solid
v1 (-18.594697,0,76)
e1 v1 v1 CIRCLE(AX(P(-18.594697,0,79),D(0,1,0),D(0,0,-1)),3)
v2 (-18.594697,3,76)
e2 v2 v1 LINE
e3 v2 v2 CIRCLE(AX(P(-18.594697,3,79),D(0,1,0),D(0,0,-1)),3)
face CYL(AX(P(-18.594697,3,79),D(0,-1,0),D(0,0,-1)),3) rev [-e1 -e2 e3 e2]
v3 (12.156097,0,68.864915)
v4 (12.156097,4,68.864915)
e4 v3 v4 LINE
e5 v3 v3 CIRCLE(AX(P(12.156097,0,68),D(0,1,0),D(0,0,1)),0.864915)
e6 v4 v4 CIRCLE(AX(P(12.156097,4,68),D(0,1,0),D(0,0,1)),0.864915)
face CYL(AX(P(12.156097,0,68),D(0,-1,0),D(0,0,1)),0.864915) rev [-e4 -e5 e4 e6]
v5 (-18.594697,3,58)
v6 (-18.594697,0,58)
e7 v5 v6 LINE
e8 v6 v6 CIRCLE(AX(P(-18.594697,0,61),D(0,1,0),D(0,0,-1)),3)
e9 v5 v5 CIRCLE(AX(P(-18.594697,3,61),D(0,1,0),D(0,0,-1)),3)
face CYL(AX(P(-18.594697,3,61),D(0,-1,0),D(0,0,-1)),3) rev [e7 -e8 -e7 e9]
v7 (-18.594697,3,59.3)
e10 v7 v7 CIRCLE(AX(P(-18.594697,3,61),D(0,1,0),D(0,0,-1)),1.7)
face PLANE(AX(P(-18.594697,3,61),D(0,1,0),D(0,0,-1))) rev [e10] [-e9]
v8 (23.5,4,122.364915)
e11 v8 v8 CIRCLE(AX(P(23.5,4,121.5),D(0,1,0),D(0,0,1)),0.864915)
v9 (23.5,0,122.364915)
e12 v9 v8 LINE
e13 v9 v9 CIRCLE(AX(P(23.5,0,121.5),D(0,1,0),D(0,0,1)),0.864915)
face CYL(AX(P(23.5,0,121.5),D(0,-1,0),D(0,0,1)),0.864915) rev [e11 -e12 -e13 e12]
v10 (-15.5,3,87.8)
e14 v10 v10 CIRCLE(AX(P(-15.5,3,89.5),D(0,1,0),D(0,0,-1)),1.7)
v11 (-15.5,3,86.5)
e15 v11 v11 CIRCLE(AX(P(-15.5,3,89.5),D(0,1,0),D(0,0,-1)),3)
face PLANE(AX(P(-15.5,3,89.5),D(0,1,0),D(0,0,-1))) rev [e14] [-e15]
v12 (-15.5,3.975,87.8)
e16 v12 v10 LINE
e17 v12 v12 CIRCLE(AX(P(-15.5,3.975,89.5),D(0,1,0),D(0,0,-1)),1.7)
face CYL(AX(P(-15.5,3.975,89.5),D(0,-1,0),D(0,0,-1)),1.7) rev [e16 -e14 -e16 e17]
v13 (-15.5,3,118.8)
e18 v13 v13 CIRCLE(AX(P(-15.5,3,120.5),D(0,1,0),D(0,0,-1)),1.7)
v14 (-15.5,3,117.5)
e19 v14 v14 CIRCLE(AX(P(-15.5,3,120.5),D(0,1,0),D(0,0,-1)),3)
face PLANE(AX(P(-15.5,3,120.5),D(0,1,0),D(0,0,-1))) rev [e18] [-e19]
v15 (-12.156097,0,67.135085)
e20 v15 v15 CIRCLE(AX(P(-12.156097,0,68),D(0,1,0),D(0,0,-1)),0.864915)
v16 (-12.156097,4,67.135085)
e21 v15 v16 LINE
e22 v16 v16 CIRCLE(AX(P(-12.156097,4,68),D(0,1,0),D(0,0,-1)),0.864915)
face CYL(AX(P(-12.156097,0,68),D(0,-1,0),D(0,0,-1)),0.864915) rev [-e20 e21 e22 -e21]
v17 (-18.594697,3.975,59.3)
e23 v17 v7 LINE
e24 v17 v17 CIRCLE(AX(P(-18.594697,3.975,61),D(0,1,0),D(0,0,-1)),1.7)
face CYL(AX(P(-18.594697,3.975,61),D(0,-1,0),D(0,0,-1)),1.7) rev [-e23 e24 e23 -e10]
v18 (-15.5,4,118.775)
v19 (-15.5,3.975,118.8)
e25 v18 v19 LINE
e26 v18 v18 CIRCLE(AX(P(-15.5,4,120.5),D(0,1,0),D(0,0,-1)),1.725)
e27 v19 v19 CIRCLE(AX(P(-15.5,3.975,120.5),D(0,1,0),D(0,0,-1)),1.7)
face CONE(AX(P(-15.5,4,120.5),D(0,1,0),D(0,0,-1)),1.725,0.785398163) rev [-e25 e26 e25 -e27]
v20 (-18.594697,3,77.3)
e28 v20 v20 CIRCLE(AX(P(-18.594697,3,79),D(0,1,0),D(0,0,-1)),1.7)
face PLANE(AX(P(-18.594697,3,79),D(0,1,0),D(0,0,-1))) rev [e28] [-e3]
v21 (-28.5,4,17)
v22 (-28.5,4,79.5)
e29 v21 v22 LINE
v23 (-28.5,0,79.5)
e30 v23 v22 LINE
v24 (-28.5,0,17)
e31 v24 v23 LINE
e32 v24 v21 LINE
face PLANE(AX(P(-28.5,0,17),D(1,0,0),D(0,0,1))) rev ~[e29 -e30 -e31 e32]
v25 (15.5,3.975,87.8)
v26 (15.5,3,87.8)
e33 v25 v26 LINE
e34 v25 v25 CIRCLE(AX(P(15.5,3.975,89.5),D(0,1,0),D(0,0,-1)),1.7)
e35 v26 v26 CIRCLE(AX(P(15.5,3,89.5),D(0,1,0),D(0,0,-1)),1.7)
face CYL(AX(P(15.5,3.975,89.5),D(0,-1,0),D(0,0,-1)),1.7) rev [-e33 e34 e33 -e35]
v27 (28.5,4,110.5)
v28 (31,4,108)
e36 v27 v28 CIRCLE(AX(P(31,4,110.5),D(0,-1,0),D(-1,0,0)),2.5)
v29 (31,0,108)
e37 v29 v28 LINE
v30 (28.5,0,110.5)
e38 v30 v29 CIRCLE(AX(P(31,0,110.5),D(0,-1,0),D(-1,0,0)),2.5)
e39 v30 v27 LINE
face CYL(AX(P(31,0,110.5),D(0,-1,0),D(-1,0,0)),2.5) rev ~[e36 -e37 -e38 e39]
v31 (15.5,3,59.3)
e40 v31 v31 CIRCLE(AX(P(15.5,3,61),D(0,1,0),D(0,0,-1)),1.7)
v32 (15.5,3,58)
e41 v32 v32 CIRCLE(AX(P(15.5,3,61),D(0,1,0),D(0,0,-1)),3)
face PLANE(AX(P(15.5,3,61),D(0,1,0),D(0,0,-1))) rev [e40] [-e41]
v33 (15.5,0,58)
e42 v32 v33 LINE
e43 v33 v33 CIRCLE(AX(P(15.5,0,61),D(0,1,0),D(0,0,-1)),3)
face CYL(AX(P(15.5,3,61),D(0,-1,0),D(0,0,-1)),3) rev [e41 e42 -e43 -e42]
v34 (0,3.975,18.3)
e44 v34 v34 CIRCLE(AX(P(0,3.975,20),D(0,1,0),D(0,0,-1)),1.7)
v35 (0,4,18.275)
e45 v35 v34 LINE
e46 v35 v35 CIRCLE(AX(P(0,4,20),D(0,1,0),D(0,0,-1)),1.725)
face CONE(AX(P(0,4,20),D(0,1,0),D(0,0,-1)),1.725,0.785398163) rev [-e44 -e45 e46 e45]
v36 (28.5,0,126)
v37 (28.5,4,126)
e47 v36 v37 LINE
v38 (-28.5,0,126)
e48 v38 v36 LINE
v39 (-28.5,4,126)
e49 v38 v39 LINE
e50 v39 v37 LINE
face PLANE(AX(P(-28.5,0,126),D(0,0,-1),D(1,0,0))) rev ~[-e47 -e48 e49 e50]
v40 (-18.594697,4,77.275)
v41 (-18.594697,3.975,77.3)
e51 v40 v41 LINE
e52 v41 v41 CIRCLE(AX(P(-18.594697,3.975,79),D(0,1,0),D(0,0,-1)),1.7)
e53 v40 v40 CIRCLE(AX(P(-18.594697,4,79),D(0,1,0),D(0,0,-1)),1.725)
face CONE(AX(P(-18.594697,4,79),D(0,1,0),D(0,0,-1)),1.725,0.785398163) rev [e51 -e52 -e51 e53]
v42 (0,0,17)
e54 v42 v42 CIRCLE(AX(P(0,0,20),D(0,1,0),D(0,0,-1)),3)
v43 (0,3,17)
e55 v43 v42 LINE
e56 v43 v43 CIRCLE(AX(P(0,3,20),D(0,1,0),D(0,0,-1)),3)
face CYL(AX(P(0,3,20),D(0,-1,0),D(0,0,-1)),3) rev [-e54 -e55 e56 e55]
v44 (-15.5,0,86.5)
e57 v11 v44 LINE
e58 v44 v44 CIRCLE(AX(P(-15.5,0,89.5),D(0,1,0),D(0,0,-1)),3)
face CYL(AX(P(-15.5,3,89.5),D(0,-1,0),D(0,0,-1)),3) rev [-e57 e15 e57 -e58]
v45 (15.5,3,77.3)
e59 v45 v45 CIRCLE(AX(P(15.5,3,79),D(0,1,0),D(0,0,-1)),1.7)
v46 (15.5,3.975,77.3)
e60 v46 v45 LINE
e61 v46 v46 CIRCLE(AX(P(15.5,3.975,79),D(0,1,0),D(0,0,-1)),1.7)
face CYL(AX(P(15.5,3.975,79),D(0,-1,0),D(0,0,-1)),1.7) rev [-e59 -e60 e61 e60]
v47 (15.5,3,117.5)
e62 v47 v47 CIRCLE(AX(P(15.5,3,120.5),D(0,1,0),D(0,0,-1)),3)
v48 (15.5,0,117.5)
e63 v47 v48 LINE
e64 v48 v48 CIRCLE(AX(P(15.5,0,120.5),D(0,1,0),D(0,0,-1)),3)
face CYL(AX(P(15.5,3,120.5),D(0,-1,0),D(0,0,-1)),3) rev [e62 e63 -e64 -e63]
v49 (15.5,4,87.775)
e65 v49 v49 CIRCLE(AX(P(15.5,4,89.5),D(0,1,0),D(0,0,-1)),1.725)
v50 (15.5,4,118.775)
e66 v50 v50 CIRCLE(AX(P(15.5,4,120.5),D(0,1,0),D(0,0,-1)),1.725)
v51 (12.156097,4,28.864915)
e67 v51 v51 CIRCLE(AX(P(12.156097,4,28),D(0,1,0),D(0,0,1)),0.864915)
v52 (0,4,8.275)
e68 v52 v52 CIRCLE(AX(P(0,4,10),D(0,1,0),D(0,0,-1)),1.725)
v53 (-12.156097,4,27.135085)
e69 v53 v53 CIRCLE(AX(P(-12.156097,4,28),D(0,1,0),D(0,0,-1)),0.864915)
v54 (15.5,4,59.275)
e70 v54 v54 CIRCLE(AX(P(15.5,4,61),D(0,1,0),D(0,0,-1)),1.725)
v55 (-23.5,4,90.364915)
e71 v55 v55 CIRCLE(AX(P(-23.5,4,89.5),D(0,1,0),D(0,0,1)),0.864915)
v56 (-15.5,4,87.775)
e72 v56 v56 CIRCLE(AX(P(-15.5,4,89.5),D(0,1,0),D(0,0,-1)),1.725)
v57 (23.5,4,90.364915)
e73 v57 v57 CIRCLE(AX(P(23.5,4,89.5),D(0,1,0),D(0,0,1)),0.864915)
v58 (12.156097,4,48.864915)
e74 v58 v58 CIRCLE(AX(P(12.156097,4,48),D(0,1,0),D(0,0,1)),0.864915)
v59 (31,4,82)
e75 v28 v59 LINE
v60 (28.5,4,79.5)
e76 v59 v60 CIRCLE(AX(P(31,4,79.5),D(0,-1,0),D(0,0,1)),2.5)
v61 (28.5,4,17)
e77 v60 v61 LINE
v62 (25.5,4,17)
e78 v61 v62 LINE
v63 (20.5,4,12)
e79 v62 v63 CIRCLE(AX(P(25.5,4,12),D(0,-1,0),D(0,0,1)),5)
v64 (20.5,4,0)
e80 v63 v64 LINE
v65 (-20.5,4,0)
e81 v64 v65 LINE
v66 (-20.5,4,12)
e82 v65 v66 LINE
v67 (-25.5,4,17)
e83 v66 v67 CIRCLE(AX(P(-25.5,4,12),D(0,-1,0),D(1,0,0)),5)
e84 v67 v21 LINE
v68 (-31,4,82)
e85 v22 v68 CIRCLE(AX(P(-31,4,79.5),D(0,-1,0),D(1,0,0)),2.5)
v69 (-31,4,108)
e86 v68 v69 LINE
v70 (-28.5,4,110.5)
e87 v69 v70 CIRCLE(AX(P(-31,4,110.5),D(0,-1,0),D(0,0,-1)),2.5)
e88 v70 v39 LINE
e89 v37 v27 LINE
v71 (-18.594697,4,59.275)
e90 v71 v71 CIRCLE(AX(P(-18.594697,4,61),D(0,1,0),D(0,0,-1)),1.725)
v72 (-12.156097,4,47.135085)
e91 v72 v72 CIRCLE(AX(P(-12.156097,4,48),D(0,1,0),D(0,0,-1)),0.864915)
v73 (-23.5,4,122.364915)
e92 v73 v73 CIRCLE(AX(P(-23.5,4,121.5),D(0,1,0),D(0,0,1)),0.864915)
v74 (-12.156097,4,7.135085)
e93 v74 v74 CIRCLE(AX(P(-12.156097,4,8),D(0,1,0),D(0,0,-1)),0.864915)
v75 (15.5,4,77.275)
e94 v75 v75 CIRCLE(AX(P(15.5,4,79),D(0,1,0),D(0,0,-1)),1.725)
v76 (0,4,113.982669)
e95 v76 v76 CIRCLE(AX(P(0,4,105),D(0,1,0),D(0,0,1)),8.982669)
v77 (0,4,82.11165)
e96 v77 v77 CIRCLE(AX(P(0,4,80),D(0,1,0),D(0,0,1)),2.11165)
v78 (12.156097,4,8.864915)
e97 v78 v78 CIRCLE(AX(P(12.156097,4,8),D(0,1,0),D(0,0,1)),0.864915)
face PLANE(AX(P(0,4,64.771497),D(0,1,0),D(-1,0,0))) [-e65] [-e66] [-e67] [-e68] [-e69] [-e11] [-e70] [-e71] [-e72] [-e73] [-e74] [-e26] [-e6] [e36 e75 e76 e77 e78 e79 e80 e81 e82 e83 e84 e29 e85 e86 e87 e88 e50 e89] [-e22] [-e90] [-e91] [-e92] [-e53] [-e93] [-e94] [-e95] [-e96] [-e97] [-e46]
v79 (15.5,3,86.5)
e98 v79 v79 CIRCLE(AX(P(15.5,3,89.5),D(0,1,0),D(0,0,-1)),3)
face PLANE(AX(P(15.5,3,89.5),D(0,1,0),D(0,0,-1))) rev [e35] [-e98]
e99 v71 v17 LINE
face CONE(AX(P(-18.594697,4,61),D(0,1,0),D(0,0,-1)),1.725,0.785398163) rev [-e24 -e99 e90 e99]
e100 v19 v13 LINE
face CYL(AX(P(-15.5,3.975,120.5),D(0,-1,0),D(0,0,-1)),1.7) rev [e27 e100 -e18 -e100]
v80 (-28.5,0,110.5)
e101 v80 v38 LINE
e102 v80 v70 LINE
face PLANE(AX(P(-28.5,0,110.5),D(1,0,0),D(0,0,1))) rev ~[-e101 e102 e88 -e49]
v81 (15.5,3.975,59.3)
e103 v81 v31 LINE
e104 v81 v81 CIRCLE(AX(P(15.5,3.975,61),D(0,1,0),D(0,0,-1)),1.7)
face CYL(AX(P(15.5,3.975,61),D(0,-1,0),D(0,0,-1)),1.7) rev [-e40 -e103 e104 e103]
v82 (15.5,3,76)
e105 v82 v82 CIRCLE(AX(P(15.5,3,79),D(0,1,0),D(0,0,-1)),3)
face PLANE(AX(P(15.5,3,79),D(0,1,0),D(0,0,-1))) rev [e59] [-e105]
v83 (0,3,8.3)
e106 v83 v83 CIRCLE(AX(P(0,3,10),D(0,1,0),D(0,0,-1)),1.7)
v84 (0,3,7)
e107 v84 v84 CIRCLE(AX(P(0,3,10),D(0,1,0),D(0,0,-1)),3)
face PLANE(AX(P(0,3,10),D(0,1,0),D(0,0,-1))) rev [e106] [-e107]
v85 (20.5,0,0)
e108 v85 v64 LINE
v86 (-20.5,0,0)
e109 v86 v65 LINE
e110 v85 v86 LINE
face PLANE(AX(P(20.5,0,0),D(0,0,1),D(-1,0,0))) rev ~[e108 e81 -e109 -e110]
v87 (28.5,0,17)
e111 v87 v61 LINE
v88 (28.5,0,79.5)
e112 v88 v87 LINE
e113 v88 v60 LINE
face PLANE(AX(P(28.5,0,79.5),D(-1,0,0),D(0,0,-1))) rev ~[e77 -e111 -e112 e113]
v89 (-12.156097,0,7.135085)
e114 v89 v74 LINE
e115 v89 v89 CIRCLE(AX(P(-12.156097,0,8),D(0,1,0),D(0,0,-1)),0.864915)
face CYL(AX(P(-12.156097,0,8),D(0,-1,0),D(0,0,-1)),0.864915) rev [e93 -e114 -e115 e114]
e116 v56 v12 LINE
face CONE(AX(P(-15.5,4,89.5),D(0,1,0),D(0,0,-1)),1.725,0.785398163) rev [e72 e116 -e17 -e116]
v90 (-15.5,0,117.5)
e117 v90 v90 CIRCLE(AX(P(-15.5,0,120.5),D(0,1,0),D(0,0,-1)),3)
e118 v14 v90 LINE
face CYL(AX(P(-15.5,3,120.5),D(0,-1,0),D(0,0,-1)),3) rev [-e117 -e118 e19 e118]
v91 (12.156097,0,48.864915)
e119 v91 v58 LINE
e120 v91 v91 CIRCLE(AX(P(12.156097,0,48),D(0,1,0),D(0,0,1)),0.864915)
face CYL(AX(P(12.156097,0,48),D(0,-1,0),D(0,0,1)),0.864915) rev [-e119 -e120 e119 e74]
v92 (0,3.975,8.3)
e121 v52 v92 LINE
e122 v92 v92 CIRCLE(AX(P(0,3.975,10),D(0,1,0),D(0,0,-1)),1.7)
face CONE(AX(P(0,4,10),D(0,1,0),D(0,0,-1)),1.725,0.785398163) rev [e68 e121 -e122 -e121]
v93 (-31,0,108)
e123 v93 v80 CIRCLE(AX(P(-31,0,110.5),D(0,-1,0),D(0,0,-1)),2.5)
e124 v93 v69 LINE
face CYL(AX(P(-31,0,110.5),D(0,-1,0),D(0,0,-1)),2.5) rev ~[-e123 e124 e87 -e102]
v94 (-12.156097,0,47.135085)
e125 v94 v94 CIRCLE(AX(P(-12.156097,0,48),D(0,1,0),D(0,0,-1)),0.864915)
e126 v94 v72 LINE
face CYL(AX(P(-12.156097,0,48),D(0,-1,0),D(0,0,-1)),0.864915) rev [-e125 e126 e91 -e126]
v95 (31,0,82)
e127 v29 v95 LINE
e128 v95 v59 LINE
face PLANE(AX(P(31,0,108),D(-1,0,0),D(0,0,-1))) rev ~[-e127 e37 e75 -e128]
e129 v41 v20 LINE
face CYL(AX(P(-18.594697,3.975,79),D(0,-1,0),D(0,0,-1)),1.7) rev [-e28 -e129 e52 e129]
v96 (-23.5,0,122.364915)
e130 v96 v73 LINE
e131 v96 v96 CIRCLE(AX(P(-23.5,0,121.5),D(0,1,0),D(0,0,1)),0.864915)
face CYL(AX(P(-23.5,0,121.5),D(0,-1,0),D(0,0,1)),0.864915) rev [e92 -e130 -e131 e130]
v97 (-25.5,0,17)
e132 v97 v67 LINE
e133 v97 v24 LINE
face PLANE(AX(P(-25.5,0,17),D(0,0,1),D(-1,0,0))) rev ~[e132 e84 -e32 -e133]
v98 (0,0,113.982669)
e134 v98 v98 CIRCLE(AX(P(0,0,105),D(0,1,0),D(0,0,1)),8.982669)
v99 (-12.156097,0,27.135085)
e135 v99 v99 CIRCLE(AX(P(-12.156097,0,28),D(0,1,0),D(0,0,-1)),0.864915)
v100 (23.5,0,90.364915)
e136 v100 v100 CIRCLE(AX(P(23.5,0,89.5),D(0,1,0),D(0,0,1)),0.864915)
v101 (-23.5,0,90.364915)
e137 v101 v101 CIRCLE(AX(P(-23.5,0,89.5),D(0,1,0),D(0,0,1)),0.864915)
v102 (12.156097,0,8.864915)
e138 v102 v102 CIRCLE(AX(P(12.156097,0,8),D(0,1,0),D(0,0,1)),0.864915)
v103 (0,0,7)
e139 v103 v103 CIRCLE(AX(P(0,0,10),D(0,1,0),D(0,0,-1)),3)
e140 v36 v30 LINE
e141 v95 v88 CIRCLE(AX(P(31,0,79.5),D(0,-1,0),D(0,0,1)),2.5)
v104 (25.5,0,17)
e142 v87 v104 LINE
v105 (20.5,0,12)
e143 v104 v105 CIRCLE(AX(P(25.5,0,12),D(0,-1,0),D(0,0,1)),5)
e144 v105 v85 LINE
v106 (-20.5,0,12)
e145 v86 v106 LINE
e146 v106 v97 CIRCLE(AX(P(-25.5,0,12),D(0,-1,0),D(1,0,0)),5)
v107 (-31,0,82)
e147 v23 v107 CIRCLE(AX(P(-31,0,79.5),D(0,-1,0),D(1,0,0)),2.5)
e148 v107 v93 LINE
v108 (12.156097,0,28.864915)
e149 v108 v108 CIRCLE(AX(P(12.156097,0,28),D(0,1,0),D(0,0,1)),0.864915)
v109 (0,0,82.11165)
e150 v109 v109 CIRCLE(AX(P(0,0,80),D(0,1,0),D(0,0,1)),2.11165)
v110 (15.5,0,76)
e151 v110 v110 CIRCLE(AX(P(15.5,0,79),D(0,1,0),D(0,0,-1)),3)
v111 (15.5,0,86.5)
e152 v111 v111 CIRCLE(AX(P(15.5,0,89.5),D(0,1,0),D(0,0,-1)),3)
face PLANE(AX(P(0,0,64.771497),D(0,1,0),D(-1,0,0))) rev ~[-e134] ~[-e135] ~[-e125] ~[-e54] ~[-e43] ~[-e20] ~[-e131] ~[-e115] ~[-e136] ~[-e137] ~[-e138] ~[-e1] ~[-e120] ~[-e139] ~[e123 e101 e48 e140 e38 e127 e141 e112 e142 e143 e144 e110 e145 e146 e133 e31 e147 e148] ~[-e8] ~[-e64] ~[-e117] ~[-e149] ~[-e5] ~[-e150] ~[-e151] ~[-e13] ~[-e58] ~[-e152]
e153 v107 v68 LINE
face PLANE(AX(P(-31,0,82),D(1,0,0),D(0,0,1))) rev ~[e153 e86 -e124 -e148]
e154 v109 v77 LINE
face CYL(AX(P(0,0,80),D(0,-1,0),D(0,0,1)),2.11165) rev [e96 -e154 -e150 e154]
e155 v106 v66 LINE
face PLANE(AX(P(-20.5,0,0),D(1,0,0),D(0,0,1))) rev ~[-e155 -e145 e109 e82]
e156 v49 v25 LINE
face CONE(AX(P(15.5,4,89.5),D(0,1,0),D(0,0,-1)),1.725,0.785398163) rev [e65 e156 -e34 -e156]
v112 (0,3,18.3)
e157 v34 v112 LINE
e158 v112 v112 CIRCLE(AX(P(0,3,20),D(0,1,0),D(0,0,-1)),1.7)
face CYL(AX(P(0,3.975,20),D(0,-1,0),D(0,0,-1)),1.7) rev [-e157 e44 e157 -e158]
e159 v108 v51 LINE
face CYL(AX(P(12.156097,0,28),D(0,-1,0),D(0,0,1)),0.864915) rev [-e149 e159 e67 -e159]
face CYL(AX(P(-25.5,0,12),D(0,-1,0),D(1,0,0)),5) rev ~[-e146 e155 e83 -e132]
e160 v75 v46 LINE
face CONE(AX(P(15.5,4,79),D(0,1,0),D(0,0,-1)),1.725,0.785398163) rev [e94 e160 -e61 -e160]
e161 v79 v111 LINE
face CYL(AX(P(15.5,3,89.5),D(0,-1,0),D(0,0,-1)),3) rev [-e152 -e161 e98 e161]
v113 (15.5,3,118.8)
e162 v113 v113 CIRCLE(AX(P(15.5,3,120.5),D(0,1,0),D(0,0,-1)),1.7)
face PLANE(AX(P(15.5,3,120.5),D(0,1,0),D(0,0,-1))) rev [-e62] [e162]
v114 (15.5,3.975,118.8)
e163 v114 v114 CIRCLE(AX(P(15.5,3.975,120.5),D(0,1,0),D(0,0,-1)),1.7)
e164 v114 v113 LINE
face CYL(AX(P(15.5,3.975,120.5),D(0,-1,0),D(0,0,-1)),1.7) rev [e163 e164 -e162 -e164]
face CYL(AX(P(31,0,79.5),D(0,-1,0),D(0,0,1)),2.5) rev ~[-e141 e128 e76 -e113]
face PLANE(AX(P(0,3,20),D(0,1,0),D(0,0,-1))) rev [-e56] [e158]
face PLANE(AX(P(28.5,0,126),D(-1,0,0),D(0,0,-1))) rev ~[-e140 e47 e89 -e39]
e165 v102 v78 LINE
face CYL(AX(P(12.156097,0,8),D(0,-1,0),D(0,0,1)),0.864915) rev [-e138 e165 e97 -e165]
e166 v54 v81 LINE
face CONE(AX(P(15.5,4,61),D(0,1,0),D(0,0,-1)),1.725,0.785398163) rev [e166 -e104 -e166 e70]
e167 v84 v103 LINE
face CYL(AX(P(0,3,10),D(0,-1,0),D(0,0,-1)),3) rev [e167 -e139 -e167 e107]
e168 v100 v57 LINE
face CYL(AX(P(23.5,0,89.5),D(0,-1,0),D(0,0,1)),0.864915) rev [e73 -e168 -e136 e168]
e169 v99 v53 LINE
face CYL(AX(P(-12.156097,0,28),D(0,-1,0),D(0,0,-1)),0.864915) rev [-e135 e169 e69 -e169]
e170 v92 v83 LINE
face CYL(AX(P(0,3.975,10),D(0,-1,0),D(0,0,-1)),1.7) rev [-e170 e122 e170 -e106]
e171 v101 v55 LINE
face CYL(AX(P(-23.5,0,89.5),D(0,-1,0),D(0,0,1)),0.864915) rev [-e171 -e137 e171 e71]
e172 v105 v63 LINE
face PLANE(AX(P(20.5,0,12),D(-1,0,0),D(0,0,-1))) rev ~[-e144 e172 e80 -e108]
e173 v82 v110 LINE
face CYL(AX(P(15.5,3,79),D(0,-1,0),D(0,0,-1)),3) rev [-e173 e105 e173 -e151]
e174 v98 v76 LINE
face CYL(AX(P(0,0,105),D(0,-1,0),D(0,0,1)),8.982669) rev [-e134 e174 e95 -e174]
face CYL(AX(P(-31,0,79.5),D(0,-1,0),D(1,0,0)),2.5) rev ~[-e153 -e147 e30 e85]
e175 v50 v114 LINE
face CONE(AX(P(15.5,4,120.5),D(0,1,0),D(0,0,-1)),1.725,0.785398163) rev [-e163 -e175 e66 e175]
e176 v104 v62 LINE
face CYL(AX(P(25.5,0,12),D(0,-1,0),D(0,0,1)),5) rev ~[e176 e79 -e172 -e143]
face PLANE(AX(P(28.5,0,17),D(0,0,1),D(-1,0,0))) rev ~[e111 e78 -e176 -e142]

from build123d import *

# Parameters (mm, degrees)
PLATE_MAIN_SKETCH_R            = 0.86491532
PLATE_MAIN_SKETCH_R_2          = 8.982669203
PLATE_MAIN_SKETCH_R_3          = 2.111650326
EXTRUDE_PLATE_MAIN_DEPTH       = 4
CBORE_FOR_M3_SHCS1_AT_2_COUNT  = 2
CBORE_FOR_M3_SHCS1_AT_2_PITCH  = 31
CBORE_FOR_M3_SHCS1_AT_3_COUNT  = 2
CBORE_FOR_M3_SHCS1_AT_3_PITCH  = 43.840620434
CBORE_FOR_M3_SHCS1_AT_4_COUNT  = 2
CBORE_FOR_M3_SHCS1_AT_4_PITCH  = 31
CBORE_FOR_M3_SHCS1_AT_5_COUNT  = 2
CBORE_FOR_M3_SHCS1_AT_5_PITCH  = 41.615227408
CBORE_FOR_M3_SHCS1_AT_6_COUNT  = 2
CBORE_FOR_M3_SHCS1_AT_6_PITCH  = 51.800096525
CBORE_FOR_M3_SHCS1_AT_7_COUNT  = 2
CBORE_FOR_M3_SHCS1_AT_7_PITCH  = 67.091355628
CBORE_FOR_M3_SHCS1_AT_8_COUNT  = 2
CBORE_FOR_M3_SHCS1_AT_8_PITCH  = 59.580425915
CBORE_FOR_M3_SHCS1_AT_9_COUNT  = 2
CBORE_FOR_M3_SHCS1_AT_9_PITCH  = 101.688249075
CBORE_FOR_M3_SHCS1_AT_10_COUNT = 2
CBORE_FOR_M3_SHCS1_AT_10_PITCH = 111.581808553


with BuildPart() as part:
    # Plate Main Sketch → Extrude Plate Main (new body)
    with BuildSketch(Plane(origin=(-158.085545862, 0, 24.679095537), x_dir=(-1, 0, 0), z_dir=(0, 1, 0))):
        with BuildLine():
            Line((-178.585545862, -24.679095537), (-137.585545862, -24.679095537))
            Line((-137.585545862, -24.679095537), (-137.585545862, -12.679095537))
            ThreePointArc((-137.585545862, -12.679095537), (-136.121079768, -9.143561631), (-132.585545862, -7.679095537))
            Line((-132.585545862, -7.679095537), (-129.585545862, -7.679095537))
            Line((-129.585545862, -7.679095537), (-129.585545862, 54.820904463))
            ThreePointArc((-129.585545862, 54.820904463), (-128.853312815, 56.588671416), (-127.085545862, 57.320904463))
            Line((-127.085545862, 57.320904463), (-127.085545862, 83.320904463))
            ThreePointArc((-127.085545862, 83.320904463), (-128.853312815, 84.05313751), (-129.585545862, 85.820904463))
            Line((-129.585545862, 85.820904463), (-129.585545862, 101.320904463))
            Line((-129.585545862, 101.320904463), (-186.585545862, 101.320904463))
            Line((-186.585545862, 101.320904463), (-186.585545862, 85.820904463))
            ThreePointArc((-186.585545862, 85.820904463), (-187.317778909, 84.05313751), (-189.085545862, 83.320904463))
            Line((-189.085545862, 83.320904463), (-189.085545862, 57.320904463))
            ThreePointArc((-189.085545862, 57.320904463), (-187.317778909, 56.588671416), (-186.585545862, 54.820904463))
            Line((-186.585545862, 54.820904463), (-186.585545862, -7.679095537))
            Line((-186.585545862, -7.679095537), (-183.585545862, -7.679095537))
            ThreePointArc((-183.585545862, -7.679095537), (-180.050011956, -9.143561631), (-178.585545862, -12.679095537))
            Line((-178.585545862, -12.679095537), (-178.585545862, -24.679095537))
        make_face()
        with Locations(Location((-134.585545862, 96.820904463, 0), (0, 0, 90))):
            Circle(PLATE_MAIN_SKETCH_R, mode=Mode.SUBTRACT)
        with Locations(Location((-134.585545862, 64.820904463, 0), (0, 0, 90))):
            Circle(PLATE_MAIN_SKETCH_R, mode=Mode.SUBTRACT)
        with Locations(Location((-181.585545862, 64.820904463, 0), (0, 0, 90))):
            Circle(PLATE_MAIN_SKETCH_R, mode=Mode.SUBTRACT)
        with Locations(Location((-181.585545862, 96.820904463, 0), (0, 0, 90))):
            Circle(PLATE_MAIN_SKETCH_R, mode=Mode.SUBTRACT)
        with Locations(Location((-170.241643156, -16.679095537, 0), (0, 0, 90))):
            Circle(PLATE_MAIN_SKETCH_R, mode=Mode.SUBTRACT)
        with Locations(Location((-170.241643156, 3.320904463, 0), (0, 0, 90))):
            Circle(PLATE_MAIN_SKETCH_R, mode=Mode.SUBTRACT)
        with Locations(Location((-170.241643156, 23.320904463, 0), (0, 0, 90))):
            Circle(PLATE_MAIN_SKETCH_R, mode=Mode.SUBTRACT)
        with Locations(Location((-170.241643156, 43.320904463, 0), (0, 0, 90))):
            Circle(PLATE_MAIN_SKETCH_R, mode=Mode.SUBTRACT)
        with Locations(Location((-145.929448569, -16.679095537, 0), (0, 0, 270))):
            Circle(PLATE_MAIN_SKETCH_R, mode=Mode.SUBTRACT)
        with Locations(Location((-145.929448569, 3.320904463, 0), (0, 0, 270))):
            Circle(PLATE_MAIN_SKETCH_R, mode=Mode.SUBTRACT)
        with Locations(Location((-145.929448569, 23.320904463, 0), (0, 0, 270))):
            Circle(PLATE_MAIN_SKETCH_R, mode=Mode.SUBTRACT)
        with Locations(Location((-145.929448569, 43.320904463, 0), (0, 0, 270))):
            Circle(PLATE_MAIN_SKETCH_R, mode=Mode.SUBTRACT)
        with Locations(Location((-158.085545862, 80.320904463, 0), (0, 0, 90))):
            Circle(PLATE_MAIN_SKETCH_R_2, mode=Mode.SUBTRACT)
        with Locations(Location((-158.085545862, 55.320904463, 0), (0, 0, 90))):
            Circle(PLATE_MAIN_SKETCH_R_3, mode=Mode.SUBTRACT)
    extrude(amount=EXTRUDE_PLATE_MAIN_DEPTH)

    # Sketch5 → CBORE for M3 SHCS1 (revolve, cut)
    with BuildSketch(Plane(origin=(-15.5, 0, 120.5), x_dir=(0, 0, -1), z_dir=(1, 0, 0))):
        Polygon((0, 0), (0, 4), (1.725, 4), (1.7, 3.975), (1.7, 3), (3, 3), (3, 0), align=None)
    cbore_for_m3_shcs1 = revolve(axis=Axis((-15.5, -6.35, 120.5), (0, 1, 0)), mode=Mode.SUBTRACT)

    # CBORE for M3 SHCS1 at 2: CBORE for M3 SHCS1 ×2
    with Locations(*[(i * CBORE_FOR_M3_SHCS1_AT_2_PITCH, 0, 0) for i in range(1, CBORE_FOR_M3_SHCS1_AT_2_COUNT)]):
        add(cbore_for_m3_shcs1, mode=Mode.SUBTRACT)

    # CBORE for M3 SHCS1 at 3: CBORE for M3 SHCS1 ×2
    with Locations(*[Vector(0.7071067811865482, 0, -0.7071067811865469) * (i * CBORE_FOR_M3_SHCS1_AT_3_PITCH) for i in range(1, CBORE_FOR_M3_SHCS1_AT_3_COUNT)]):
        add(cbore_for_m3_shcs1, mode=Mode.SUBTRACT)

    # CBORE for M3 SHCS1 at 4: CBORE for M3 SHCS1 ×2
    with Locations(*[(0, 0, -i * CBORE_FOR_M3_SHCS1_AT_4_PITCH) for i in range(1, CBORE_FOR_M3_SHCS1_AT_4_COUNT)]):
        add(cbore_for_m3_shcs1, mode=Mode.SUBTRACT)

    # CBORE for M3 SHCS1 at 5: CBORE for M3 SHCS1 ×2
    with Locations(*[Vector(-0.07436454462395926, 0, -0.9972311239140459) * (i * CBORE_FOR_M3_SHCS1_AT_5_PITCH) for i in range(1, CBORE_FOR_M3_SHCS1_AT_5_COUNT)]):
        add(cbore_for_m3_shcs1, mode=Mode.SUBTRACT)

    # CBORE for M3 SHCS1 at 6: CBORE for M3 SHCS1 ×2
    with Locations(*[Vector(0.5984544832852718, 0, -0.801156808268992) * (i * CBORE_FOR_M3_SHCS1_AT_6_PITCH) for i in range(1, CBORE_FOR_M3_SHCS1_AT_6_COUNT)]):
        add(cbore_for_m3_shcs1, mode=Mode.SUBTRACT)

    # CBORE for M3 SHCS1 at 7: CBORE for M3 SHCS1 ×2
    with Locations(*[Vector(0.4620565452857235, 0, -0.8868504659516295) * (i * CBORE_FOR_M3_SHCS1_AT_7_PITCH) for i in range(1, CBORE_FOR_M3_SHCS1_AT_7_COUNT)]):
        add(cbore_for_m3_shcs1, mode=Mode.SUBTRACT)

    # CBORE for M3 SHCS1 at 8: CBORE for M3 SHCS1 ×2
    with Locations(*[Vector(-0.051941512469712944, 0, -0.9986501285647335) * (i * CBORE_FOR_M3_SHCS1_AT_8_PITCH) for i in range(1, CBORE_FOR_M3_SHCS1_AT_8_COUNT)]):
        add(cbore_for_m3_shcs1, mode=Mode.SUBTRACT)

    # CBORE for M3 SHCS1 at 9: CBORE for M3 SHCS1 ×2
    with Locations(*[Vector(0.15242665834989946, 0, -0.9883147847848291) * (i * CBORE_FOR_M3_SHCS1_AT_9_PITCH) for i in range(1, CBORE_FOR_M3_SHCS1_AT_9_COUNT)]):
        add(cbore_for_m3_shcs1, mode=Mode.SUBTRACT)

    # CBORE for M3 SHCS1 at 10: CBORE for M3 SHCS1 ×2
    with Locations(*[Vector(0.13891153227375588, 0, -0.9903047945967732) * (i * CBORE_FOR_M3_SHCS1_AT_10_PITCH) for i in range(1, CBORE_FOR_M3_SHCS1_AT_10_COUNT)]):
        add(cbore_for_m3_shcs1, mode=Mode.SUBTRACT)


solid = part.part
